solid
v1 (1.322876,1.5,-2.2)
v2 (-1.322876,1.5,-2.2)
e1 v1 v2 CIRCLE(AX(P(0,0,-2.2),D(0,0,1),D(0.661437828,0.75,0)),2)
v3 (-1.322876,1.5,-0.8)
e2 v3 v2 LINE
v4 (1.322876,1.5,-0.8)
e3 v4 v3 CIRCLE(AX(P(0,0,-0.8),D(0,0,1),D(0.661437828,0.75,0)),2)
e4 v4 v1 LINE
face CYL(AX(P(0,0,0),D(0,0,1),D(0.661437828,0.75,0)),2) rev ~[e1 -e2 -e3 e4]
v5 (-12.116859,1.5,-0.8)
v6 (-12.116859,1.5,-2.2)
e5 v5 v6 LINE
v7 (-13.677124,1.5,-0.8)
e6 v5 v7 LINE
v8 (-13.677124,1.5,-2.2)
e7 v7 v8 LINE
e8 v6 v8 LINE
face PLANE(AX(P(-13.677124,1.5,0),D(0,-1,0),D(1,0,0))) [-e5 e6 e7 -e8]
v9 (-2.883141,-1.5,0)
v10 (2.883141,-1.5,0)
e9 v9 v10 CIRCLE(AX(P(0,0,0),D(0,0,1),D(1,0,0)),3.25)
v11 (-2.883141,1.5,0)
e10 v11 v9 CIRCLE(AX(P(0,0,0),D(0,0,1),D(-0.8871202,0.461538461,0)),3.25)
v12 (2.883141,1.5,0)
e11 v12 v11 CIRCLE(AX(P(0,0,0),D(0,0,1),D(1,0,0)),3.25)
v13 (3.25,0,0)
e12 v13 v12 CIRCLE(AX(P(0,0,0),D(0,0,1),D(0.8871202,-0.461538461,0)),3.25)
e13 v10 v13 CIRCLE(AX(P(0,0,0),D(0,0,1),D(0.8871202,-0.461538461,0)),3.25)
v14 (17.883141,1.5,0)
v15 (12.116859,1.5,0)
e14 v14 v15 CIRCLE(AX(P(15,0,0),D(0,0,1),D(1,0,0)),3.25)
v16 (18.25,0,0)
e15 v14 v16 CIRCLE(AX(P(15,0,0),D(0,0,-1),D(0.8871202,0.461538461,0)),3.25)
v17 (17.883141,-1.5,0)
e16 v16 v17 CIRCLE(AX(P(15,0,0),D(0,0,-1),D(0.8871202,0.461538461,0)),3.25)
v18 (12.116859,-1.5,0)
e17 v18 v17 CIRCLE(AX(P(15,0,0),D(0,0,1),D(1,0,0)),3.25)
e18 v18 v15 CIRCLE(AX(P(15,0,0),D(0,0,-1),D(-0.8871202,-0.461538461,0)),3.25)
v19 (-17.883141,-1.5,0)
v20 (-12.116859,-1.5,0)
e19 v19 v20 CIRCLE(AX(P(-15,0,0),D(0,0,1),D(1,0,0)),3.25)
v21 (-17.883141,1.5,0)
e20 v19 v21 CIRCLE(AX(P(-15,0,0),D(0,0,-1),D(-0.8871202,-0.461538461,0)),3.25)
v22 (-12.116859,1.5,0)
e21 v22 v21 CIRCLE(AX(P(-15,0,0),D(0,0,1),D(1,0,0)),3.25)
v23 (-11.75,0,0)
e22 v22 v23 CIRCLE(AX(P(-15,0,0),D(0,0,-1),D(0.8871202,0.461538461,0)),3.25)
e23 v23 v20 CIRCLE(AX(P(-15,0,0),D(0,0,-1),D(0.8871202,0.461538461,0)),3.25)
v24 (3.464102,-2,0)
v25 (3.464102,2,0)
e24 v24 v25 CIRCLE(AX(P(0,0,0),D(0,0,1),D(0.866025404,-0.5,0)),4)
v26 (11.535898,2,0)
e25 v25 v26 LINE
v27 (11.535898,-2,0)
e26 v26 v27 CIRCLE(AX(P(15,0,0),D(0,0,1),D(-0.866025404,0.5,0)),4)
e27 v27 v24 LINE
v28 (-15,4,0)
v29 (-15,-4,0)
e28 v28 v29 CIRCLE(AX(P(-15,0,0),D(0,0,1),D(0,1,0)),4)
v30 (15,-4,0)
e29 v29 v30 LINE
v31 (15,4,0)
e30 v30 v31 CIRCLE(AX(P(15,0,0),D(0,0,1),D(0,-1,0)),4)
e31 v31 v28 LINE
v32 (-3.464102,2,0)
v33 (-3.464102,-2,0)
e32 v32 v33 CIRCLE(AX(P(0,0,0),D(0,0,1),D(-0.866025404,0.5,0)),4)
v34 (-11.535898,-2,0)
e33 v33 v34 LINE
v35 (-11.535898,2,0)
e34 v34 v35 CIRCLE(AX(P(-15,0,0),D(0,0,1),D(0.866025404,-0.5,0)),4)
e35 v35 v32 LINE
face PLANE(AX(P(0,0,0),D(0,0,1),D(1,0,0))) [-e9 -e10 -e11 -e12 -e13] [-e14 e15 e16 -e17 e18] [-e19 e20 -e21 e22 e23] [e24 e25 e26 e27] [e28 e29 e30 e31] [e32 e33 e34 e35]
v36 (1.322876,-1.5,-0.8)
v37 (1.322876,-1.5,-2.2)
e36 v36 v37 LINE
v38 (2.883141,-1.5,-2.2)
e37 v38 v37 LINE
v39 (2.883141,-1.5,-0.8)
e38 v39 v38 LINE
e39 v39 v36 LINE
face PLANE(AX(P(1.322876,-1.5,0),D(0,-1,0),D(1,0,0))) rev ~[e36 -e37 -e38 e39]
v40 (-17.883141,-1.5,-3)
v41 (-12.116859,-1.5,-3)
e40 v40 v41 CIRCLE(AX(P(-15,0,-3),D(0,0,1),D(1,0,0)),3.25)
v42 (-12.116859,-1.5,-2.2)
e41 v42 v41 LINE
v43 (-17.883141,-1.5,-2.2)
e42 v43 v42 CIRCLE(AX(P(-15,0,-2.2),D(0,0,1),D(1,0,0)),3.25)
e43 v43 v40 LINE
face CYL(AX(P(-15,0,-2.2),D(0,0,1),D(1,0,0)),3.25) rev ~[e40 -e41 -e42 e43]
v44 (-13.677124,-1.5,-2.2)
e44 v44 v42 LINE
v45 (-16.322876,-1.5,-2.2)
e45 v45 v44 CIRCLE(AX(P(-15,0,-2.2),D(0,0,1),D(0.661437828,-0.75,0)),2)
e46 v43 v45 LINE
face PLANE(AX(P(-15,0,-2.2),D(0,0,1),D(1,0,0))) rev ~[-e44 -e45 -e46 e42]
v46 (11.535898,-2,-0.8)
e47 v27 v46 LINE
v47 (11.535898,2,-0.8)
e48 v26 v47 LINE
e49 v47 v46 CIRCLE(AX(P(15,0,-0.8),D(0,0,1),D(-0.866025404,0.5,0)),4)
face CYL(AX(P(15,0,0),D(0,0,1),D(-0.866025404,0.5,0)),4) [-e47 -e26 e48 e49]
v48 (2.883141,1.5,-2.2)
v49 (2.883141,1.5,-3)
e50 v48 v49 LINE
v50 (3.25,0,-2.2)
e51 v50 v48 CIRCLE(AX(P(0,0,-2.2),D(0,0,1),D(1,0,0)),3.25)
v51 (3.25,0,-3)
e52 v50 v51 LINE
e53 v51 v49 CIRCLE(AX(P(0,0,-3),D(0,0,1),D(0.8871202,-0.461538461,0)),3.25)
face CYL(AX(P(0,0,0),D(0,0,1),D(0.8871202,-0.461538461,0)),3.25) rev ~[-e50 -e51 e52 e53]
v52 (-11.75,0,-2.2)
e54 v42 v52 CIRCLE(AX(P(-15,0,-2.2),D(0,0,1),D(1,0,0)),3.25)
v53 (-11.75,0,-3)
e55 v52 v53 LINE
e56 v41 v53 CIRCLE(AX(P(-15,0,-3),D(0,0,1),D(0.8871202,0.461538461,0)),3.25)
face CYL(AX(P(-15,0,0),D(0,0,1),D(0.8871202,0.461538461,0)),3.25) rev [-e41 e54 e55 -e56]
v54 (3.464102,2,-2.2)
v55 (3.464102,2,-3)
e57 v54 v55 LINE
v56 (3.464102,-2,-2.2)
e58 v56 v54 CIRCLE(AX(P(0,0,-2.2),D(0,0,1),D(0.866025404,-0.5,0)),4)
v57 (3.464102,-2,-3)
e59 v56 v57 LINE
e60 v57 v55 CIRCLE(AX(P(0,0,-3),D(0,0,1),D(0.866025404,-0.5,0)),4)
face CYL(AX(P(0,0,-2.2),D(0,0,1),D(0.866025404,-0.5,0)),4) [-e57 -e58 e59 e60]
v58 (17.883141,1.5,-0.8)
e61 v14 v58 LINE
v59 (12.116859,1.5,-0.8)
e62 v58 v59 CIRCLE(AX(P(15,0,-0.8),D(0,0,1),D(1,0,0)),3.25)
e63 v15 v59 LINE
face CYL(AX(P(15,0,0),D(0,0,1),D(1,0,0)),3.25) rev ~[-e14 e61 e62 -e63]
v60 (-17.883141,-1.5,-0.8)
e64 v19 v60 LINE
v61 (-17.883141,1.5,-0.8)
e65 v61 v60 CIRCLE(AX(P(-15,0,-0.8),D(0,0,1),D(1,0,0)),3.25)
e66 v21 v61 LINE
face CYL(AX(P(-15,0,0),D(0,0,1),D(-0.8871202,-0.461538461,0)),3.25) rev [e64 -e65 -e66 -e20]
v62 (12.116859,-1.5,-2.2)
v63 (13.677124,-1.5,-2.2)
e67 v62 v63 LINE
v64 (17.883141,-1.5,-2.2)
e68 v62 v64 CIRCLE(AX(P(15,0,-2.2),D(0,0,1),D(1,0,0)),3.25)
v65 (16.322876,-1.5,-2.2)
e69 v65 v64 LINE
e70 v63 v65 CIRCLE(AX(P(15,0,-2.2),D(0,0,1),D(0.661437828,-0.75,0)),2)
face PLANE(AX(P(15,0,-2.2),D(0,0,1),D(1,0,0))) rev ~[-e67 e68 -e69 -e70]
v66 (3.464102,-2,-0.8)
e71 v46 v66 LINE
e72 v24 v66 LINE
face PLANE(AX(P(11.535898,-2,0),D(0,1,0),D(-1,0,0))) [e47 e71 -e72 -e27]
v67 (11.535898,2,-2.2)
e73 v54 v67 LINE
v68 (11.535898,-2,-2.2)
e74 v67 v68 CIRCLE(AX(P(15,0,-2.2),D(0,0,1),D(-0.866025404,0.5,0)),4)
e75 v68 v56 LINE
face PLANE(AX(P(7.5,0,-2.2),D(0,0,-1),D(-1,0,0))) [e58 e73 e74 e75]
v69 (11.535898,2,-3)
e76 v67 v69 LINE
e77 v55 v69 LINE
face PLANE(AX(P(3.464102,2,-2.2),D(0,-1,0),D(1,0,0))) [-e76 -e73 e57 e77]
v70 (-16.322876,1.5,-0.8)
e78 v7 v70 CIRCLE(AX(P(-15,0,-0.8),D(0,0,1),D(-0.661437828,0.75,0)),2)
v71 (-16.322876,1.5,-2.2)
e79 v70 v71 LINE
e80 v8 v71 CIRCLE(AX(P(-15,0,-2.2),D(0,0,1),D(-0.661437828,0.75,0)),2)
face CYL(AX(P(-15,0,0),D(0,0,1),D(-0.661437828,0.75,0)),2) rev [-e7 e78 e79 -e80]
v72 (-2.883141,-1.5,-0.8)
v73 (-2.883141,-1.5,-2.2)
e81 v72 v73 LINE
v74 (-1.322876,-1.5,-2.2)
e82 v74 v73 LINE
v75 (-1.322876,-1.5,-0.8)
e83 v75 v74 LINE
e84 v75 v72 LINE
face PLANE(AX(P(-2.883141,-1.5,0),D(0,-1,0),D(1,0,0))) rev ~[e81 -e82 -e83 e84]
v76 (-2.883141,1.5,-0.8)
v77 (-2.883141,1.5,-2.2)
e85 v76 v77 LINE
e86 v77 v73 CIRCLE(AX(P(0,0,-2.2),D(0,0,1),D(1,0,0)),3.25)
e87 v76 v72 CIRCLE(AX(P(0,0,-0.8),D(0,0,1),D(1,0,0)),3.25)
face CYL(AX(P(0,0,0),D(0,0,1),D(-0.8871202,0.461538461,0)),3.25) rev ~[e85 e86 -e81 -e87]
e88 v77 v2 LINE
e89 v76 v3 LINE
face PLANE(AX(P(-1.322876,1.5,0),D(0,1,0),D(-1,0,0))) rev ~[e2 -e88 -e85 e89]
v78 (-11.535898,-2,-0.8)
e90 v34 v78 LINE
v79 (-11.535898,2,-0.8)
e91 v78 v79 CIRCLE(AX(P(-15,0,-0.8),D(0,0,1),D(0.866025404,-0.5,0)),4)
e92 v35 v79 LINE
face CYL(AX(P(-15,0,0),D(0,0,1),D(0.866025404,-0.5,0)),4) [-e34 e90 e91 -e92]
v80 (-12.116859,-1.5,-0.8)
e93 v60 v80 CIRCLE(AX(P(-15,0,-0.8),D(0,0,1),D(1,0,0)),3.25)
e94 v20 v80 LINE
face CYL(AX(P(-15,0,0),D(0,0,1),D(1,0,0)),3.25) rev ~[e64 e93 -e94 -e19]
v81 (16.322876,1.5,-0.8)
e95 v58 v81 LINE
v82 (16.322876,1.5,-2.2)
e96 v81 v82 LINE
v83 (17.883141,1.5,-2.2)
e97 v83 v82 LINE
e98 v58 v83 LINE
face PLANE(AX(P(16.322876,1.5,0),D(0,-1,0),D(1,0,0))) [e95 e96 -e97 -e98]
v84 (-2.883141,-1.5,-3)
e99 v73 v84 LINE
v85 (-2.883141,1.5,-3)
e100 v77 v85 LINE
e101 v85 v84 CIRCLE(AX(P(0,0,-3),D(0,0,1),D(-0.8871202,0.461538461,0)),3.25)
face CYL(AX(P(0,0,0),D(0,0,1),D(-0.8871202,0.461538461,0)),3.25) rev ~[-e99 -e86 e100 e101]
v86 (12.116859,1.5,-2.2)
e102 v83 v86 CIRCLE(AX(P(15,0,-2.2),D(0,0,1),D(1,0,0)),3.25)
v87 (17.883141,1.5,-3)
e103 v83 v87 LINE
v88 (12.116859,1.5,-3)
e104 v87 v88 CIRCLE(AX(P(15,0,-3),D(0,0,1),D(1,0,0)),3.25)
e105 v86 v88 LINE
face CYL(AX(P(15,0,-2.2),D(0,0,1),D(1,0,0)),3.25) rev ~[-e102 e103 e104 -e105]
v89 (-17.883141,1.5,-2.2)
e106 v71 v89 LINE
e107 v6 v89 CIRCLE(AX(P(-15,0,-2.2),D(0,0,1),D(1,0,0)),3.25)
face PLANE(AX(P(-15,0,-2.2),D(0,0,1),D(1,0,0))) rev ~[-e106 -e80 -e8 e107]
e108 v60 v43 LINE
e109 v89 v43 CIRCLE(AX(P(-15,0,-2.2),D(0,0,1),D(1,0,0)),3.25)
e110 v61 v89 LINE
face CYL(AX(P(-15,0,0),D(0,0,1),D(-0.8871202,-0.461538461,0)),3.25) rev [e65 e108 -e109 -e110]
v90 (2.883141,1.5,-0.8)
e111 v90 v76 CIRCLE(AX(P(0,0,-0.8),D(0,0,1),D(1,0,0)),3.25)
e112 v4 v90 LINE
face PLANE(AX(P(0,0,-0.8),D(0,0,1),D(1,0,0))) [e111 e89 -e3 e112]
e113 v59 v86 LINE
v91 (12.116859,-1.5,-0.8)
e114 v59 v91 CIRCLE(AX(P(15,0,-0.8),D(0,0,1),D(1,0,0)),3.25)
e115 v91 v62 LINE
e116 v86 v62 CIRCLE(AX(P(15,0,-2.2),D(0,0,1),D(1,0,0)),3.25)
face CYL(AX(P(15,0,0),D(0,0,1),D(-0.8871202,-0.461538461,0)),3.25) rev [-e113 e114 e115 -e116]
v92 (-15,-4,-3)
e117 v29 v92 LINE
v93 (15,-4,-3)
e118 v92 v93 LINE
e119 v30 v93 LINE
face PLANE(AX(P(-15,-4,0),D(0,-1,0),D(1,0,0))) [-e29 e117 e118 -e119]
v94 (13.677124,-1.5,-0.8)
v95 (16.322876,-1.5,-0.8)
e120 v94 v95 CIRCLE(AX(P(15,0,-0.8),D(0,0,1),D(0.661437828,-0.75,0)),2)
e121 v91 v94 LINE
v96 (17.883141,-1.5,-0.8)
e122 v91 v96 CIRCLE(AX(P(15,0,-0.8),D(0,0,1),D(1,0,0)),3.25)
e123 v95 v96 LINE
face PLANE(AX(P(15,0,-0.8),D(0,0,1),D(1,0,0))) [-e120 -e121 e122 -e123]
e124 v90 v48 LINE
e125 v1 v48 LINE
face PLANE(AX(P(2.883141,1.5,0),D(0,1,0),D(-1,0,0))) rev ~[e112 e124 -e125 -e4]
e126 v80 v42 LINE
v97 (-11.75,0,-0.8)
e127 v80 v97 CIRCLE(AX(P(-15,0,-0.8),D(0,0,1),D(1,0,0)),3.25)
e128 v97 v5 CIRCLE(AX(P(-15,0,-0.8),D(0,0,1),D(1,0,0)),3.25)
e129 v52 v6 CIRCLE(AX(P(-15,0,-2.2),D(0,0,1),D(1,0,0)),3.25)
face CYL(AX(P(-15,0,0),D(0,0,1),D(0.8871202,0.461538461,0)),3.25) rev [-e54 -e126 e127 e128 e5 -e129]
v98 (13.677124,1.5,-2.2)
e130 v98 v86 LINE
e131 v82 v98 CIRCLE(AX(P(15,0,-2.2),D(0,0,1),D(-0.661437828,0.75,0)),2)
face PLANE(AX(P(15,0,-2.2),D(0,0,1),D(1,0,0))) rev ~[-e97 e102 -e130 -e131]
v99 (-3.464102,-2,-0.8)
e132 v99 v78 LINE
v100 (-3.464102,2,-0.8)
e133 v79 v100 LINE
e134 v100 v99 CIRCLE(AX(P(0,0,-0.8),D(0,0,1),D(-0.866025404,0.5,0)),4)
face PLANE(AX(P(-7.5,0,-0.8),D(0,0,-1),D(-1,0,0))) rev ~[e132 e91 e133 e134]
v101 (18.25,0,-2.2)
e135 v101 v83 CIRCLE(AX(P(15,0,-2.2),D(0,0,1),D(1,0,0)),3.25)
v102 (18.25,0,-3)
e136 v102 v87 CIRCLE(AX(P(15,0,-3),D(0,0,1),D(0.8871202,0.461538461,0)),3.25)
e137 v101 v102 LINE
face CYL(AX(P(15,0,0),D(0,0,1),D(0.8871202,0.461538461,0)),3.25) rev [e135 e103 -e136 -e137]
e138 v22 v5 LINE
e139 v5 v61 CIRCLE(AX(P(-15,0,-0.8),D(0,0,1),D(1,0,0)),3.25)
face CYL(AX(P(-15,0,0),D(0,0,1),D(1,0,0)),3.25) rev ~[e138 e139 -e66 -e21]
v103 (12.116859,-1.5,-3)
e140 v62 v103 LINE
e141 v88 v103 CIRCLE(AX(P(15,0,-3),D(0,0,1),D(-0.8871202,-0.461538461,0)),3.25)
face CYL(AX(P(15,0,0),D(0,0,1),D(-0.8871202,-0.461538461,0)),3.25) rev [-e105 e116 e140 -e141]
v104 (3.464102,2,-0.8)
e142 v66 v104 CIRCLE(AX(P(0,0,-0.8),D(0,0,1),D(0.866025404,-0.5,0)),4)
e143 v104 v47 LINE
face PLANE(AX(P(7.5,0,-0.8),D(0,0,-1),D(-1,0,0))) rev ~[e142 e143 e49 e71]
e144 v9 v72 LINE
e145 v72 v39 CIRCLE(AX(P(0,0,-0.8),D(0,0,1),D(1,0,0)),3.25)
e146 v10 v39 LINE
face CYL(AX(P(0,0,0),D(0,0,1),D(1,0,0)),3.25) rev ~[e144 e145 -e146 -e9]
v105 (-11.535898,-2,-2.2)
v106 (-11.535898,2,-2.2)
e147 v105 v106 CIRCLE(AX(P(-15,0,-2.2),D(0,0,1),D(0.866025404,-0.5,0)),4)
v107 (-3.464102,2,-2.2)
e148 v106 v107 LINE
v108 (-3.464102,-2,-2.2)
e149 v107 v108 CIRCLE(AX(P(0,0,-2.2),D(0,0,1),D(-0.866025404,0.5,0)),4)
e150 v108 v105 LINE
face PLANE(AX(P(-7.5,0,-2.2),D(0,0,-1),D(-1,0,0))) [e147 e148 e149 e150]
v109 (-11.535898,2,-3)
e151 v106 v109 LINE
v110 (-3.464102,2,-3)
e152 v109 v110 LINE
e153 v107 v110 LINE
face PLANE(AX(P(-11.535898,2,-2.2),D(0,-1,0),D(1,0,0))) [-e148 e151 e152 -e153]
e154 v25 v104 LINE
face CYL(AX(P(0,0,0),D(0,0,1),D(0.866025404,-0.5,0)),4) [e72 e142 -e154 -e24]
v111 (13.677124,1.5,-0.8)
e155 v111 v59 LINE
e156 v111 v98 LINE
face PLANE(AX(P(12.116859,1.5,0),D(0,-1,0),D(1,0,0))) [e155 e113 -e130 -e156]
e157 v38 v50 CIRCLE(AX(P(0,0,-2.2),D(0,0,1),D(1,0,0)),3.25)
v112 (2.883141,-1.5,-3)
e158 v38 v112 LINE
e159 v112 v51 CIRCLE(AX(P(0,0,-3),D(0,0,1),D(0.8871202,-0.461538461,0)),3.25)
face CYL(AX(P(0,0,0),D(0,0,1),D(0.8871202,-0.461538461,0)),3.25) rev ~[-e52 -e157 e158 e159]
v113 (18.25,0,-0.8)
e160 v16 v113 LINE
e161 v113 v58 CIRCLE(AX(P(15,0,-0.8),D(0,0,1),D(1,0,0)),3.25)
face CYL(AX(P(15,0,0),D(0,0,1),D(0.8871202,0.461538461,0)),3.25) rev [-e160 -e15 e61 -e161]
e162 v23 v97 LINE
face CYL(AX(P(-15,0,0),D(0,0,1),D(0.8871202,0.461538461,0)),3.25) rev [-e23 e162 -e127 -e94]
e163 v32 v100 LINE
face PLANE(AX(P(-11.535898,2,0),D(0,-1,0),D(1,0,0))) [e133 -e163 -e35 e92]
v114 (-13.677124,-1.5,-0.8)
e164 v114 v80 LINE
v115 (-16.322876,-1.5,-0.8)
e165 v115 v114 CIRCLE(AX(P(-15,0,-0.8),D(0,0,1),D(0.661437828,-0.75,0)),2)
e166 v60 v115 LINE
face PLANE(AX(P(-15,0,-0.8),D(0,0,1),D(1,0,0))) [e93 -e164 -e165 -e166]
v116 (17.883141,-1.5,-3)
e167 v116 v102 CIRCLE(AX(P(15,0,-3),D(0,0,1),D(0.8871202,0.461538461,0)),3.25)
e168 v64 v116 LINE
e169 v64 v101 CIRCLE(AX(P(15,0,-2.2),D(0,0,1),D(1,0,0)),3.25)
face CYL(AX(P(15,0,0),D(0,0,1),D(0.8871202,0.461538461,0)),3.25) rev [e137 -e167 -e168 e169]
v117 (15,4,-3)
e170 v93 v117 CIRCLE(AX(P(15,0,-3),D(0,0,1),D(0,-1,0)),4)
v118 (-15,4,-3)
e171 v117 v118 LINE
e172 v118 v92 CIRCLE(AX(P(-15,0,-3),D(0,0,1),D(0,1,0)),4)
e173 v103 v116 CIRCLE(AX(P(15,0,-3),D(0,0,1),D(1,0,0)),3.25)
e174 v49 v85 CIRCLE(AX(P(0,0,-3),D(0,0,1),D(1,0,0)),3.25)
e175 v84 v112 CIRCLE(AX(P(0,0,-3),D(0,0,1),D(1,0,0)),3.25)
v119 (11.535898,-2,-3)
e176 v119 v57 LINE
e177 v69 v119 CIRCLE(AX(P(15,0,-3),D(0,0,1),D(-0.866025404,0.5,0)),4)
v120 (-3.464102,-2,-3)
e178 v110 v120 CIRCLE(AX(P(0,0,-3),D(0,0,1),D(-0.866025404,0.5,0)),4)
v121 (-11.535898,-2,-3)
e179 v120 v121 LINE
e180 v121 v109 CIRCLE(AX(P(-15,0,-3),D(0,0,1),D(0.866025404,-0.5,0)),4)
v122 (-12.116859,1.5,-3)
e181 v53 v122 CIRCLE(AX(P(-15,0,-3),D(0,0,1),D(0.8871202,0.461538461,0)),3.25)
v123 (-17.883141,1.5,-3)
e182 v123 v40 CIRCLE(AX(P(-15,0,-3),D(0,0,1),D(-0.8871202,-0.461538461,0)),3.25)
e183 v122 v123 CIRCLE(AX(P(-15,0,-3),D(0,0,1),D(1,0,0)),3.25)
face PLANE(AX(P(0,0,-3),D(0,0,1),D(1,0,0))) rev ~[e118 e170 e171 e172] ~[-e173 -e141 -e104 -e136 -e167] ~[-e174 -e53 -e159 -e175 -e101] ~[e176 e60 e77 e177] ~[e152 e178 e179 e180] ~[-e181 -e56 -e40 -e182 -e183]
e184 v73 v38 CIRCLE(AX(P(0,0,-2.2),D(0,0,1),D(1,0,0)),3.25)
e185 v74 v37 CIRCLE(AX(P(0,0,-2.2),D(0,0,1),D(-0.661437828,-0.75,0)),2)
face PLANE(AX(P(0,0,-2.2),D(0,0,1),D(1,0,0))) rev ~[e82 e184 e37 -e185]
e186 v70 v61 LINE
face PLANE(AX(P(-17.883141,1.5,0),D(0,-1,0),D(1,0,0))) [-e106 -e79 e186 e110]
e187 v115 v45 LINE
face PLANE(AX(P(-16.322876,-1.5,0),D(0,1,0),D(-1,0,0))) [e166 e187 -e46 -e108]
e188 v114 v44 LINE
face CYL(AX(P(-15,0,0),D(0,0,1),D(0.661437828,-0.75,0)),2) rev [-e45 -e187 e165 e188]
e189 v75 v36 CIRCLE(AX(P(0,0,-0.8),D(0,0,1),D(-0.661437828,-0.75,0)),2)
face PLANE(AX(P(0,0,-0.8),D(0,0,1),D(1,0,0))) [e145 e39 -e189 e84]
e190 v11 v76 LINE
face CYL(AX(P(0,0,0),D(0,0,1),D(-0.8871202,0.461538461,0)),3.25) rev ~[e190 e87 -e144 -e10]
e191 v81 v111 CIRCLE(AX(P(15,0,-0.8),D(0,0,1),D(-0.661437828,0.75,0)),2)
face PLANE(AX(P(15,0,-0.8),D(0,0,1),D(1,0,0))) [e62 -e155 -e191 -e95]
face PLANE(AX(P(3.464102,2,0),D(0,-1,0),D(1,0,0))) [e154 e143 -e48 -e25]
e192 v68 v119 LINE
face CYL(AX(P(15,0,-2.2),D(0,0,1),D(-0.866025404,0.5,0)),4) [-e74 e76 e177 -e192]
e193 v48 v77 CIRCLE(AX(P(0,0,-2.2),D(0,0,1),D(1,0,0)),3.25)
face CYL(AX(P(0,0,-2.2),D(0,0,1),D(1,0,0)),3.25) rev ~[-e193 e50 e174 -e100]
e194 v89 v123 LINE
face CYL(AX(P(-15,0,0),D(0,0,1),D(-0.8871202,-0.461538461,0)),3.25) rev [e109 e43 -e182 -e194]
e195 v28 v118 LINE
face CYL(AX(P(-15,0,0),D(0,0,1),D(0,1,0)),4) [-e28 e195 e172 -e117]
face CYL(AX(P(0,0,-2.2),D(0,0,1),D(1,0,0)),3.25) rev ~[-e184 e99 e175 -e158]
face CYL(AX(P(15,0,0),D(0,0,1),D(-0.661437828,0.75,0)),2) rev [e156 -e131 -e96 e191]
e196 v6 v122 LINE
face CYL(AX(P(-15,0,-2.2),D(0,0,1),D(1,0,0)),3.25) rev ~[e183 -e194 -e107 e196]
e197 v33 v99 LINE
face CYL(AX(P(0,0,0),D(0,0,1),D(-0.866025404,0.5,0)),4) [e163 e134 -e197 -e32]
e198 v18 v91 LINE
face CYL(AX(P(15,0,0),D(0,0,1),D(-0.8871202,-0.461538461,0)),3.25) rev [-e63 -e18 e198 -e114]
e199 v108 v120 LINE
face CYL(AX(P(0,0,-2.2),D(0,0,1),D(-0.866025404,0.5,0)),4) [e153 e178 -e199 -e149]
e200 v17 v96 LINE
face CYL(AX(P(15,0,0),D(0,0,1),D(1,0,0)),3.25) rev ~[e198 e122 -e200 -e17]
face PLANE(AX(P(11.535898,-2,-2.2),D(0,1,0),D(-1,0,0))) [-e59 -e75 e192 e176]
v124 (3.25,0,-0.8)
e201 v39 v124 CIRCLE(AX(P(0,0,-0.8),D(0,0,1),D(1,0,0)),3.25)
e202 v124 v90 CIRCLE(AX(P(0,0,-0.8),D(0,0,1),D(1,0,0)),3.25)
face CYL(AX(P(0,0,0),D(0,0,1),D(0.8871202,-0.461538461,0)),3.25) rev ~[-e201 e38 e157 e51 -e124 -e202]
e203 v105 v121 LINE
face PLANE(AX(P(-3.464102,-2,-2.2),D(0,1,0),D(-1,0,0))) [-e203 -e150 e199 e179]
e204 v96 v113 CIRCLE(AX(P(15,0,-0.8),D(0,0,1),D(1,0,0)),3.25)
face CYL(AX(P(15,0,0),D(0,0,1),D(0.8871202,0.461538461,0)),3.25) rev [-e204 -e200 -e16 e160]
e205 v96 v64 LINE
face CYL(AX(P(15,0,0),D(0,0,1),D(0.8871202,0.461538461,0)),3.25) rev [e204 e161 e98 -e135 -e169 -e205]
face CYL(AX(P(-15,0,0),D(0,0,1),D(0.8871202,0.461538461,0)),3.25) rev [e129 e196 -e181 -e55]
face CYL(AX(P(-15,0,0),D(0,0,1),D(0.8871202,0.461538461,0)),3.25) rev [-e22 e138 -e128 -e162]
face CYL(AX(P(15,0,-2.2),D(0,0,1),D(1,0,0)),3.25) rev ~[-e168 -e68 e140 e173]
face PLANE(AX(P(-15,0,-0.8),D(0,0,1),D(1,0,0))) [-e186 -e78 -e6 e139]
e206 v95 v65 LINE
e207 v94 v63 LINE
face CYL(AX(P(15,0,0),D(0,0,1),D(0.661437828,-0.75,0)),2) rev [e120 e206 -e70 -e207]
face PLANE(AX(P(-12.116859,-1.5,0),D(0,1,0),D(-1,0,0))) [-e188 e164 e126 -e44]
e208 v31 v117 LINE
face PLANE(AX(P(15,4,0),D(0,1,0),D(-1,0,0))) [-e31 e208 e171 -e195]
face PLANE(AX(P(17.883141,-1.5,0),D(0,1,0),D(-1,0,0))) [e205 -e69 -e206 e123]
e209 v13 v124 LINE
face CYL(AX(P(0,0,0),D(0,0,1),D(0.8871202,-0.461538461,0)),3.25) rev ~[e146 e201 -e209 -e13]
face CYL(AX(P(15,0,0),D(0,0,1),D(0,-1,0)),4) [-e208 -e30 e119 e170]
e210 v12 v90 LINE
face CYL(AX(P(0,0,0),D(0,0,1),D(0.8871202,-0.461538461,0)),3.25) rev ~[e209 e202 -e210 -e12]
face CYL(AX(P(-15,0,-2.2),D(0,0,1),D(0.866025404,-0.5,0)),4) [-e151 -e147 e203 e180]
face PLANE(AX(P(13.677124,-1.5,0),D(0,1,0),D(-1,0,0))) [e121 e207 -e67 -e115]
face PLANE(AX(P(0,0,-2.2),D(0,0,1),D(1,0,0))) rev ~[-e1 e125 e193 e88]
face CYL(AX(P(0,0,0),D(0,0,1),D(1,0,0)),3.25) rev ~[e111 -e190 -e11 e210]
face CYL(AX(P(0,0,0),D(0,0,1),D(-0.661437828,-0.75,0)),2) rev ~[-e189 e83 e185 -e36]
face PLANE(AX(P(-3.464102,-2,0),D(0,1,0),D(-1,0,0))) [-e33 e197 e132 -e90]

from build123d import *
from build123d.topology import SkipClean

# Parameters (mm, degrees)
EXTRUDE_1_DEPTH     = 3
CUT_EXTRUDE_1_REACH = 21.647
SKETCH_3_R          = 3.25
CUT_EXTRUDE_2_DEPTH = 0.8
CUT_EXTRUDE_START   = -2.2
SKETCH_3_2_R        = 3.25
CUT_EXTRUDE_3_DEPTH = 0.8
CUT_EXTRUDE_4_DEPTH = 0.8
CUT_EXTRUDE_5_DEPTH = 0.8


with BuildPart() as part:
    # 草图1 → 凸台-拉伸1 (new body)
    with BuildSketch(Plane.XY):
        with BuildLine():
            Line((-15, -4), (15, -4))
            ThreePointArc((15, -4), (19, 0), (15, 4))
            Line((15, 4), (-15, 4))
            ThreePointArc((-15, 4), (-19, 0), (-15, -4))
        make_face()
    extrude(amount=-EXTRUDE_1_DEPTH)

    # 草图2 → 切除-拉伸1 (cut, up to next)
    with BuildSketch(Plane.XY, mode=Mode.PRIVATE) as cut_extrude_1_sk1:
        with BuildLine():
            Line((-2.883140649, -1.5), (-1.322875656, -1.5))
            ThreePointArc((-1.322875656, -1.5), (0, -2), (1.322875656, -1.5))
            Line((1.322875656, -1.5), (2.883140649, -1.5))
            ThreePointArc((2.883140649, -1.5), (3.25, 0), (2.883140649, 1.5))
            Line((2.883140649, 1.5), (1.322875656, 1.5))
            ThreePointArc((1.322875656, 1.5), (0, 2), (-1.322875656, 1.5))
            Line((-1.322875656, 1.5), (-2.883140649, 1.5))
            ThreePointArc((-2.883140649, 1.5), (-3.25, 0), (-2.883140649, -1.5))
        make_face()
    cut_extrude_1_tool1 = extrude(cut_extrude_1_sk1.sketch, amount=-CUT_EXTRUDE_1_REACH, mode=Mode.PRIVATE) & part.part
    # 草图2 → 切除-拉伸1 (cut, up to next)
    with BuildSketch(Plane.XY, mode=Mode.PRIVATE) as cut_extrude_1_sk2:
        with BuildLine():
            Line((-17.883140649, 1.5), (-16.322875656, 1.5))
            ThreePointArc((-16.322875656, 1.5), (-15, 2), (-13.677124344, 1.5))
            Line((-13.677124344, 1.5), (-12.116859351, 1.5))
            ThreePointArc((-12.116859351, 1.5), (-11.75, 0), (-12.116859351, -1.5))
            Line((-12.116859351, -1.5), (-13.677124344, -1.5))
            ThreePointArc((-13.677124344, -1.5), (-15, -2), (-16.322875656, -1.5))
            Line((-16.322875656, -1.5), (-17.883140649, -1.5))
            ThreePointArc((-17.883140649, -1.5), (-18.25, 0), (-17.883140649, 1.5))
        make_face()
    cut_extrude_1_tool2 = extrude(cut_extrude_1_sk2.sketch, amount=-CUT_EXTRUDE_1_REACH, mode=Mode.PRIVATE) & part.part
    # 草图2 → 切除-拉伸1 (cut, up to next)
    with BuildSketch(Plane.XY, mode=Mode.PRIVATE) as cut_extrude_1_sk3:
        with BuildLine():
            Line((12.116859351, 1.5), (13.677124344, 1.5))
            ThreePointArc((13.677124344, 1.5), (15, 2), (16.322875656, 1.5))
            Line((16.322875656, 1.5), (17.883140649, 1.5))
            ThreePointArc((17.883140649, 1.5), (18.25, 0), (17.883140649, -1.5))
            Line((17.883140649, -1.5), (16.322875656, -1.5))
            ThreePointArc((16.322875656, -1.5), (15, -2), (13.677124344, -1.5))
            Line((13.677124344, -1.5), (12.116859351, -1.5))
            ThreePointArc((12.116859351, -1.5), (11.75, 0), (12.116859351, 1.5))
        make_face()
    cut_extrude_1_tool3 = extrude(cut_extrude_1_sk3.sketch, amount=-CUT_EXTRUDE_1_REACH, mode=Mode.PRIVATE) & part.part
    add(cut_extrude_1_tool1.solids().sort_by_distance((0, 0, 0))[0], mode=Mode.SUBTRACT)
    add(cut_extrude_1_tool2.solids().sort_by_distance((-15, 0, 0))[0], mode=Mode.SUBTRACT)
    add(cut_extrude_1_tool3.solids().sort_by_distance((15, 0, 0))[0], mode=Mode.SUBTRACT)

    # 草图3 → 切除-拉伸2 (cut)
    with SkipClean():  # the faces are left unmerged after this step: merging them gives an invalid solid
        with BuildSketch(Plane.XY):
            with Locations((-15, 0)):
                Circle(SKETCH_3_R)
            Circle(SKETCH_3_R)
            with Locations((15, 0)):
                Circle(SKETCH_3_R)
        extrude(amount=-CUT_EXTRUDE_2_DEPTH, mode=Mode.SUBTRACT)

    # 草图3<2> → 切除-拉伸3 (cut)
    with SkipClean():  # the faces are left unmerged after this step: merging them gives an invalid solid
        with BuildSketch(Plane.XY.offset(CUT_EXTRUDE_START)):
            with Locations((-15, 0)):
                Circle(SKETCH_3_2_R)
            Circle(SKETCH_3_2_R)
            with Locations((15, 0)):
                Circle(SKETCH_3_2_R)
        extrude(amount=-CUT_EXTRUDE_3_DEPTH, mode=Mode.SUBTRACT)

    # 草图4 → 切除-拉伸4 (cut)
    with SkipClean():  # the faces are left unmerged after this step: merging them gives an invalid solid
        with BuildSketch(Plane.XY):
            with BuildLine():
                Line((-11.535898385, 2), (-3.464101615, 2))
                ThreePointArc((-3.464101615, 2), (-4, 0), (-3.464101615, -2))
                Line((-3.464101615, -2), (-11.535898385, -2))
                ThreePointArc((-11.535898385, -2), (-11, 0), (-11.535898385, 2))
            make_face()
            with BuildLine():
                Line((3.464101615, 2), (11.535898385, 2))
                ThreePointArc((11.535898385, 2), (11, 0), (11.535898385, -2))
                Line((11.535898385, -2), (3.464101615, -2))
                ThreePointArc((3.464101615, -2), (4, 0), (3.464101615, 2))
            make_face()
        extrude(amount=-CUT_EXTRUDE_4_DEPTH, mode=Mode.SUBTRACT)

    # 草图4<2> → 切除-拉伸5 (cut)
    with SkipClean():  # the faces are left unmerged after this step: merging them gives an invalid solid
        with BuildSketch(Plane.XY.offset(CUT_EXTRUDE_START)):
            with BuildLine():
                Line((-11.535898385, 2), (-3.464101615, 2))
                ThreePointArc((-3.464101615, 2), (-4, 0), (-3.464101615, -2))
                Line((-3.464101615, -2), (-11.535898385, -2))
                ThreePointArc((-11.535898385, -2), (-11, 0), (-11.535898385, 2))
            make_face()
            with BuildLine():
                Line((3.464101615, 2), (11.535898385, 2))
                ThreePointArc((11.535898385, 2), (11, 0), (11.535898385, -2))
                Line((11.535898385, -2), (3.464101615, -2))
                ThreePointArc((3.464101615, -2), (4, 0), (3.464101615, 2))
            make_face()
        extrude(amount=-CUT_EXTRUDE_5_DEPTH, mode=Mode.SUBTRACT)


solid = part.part
